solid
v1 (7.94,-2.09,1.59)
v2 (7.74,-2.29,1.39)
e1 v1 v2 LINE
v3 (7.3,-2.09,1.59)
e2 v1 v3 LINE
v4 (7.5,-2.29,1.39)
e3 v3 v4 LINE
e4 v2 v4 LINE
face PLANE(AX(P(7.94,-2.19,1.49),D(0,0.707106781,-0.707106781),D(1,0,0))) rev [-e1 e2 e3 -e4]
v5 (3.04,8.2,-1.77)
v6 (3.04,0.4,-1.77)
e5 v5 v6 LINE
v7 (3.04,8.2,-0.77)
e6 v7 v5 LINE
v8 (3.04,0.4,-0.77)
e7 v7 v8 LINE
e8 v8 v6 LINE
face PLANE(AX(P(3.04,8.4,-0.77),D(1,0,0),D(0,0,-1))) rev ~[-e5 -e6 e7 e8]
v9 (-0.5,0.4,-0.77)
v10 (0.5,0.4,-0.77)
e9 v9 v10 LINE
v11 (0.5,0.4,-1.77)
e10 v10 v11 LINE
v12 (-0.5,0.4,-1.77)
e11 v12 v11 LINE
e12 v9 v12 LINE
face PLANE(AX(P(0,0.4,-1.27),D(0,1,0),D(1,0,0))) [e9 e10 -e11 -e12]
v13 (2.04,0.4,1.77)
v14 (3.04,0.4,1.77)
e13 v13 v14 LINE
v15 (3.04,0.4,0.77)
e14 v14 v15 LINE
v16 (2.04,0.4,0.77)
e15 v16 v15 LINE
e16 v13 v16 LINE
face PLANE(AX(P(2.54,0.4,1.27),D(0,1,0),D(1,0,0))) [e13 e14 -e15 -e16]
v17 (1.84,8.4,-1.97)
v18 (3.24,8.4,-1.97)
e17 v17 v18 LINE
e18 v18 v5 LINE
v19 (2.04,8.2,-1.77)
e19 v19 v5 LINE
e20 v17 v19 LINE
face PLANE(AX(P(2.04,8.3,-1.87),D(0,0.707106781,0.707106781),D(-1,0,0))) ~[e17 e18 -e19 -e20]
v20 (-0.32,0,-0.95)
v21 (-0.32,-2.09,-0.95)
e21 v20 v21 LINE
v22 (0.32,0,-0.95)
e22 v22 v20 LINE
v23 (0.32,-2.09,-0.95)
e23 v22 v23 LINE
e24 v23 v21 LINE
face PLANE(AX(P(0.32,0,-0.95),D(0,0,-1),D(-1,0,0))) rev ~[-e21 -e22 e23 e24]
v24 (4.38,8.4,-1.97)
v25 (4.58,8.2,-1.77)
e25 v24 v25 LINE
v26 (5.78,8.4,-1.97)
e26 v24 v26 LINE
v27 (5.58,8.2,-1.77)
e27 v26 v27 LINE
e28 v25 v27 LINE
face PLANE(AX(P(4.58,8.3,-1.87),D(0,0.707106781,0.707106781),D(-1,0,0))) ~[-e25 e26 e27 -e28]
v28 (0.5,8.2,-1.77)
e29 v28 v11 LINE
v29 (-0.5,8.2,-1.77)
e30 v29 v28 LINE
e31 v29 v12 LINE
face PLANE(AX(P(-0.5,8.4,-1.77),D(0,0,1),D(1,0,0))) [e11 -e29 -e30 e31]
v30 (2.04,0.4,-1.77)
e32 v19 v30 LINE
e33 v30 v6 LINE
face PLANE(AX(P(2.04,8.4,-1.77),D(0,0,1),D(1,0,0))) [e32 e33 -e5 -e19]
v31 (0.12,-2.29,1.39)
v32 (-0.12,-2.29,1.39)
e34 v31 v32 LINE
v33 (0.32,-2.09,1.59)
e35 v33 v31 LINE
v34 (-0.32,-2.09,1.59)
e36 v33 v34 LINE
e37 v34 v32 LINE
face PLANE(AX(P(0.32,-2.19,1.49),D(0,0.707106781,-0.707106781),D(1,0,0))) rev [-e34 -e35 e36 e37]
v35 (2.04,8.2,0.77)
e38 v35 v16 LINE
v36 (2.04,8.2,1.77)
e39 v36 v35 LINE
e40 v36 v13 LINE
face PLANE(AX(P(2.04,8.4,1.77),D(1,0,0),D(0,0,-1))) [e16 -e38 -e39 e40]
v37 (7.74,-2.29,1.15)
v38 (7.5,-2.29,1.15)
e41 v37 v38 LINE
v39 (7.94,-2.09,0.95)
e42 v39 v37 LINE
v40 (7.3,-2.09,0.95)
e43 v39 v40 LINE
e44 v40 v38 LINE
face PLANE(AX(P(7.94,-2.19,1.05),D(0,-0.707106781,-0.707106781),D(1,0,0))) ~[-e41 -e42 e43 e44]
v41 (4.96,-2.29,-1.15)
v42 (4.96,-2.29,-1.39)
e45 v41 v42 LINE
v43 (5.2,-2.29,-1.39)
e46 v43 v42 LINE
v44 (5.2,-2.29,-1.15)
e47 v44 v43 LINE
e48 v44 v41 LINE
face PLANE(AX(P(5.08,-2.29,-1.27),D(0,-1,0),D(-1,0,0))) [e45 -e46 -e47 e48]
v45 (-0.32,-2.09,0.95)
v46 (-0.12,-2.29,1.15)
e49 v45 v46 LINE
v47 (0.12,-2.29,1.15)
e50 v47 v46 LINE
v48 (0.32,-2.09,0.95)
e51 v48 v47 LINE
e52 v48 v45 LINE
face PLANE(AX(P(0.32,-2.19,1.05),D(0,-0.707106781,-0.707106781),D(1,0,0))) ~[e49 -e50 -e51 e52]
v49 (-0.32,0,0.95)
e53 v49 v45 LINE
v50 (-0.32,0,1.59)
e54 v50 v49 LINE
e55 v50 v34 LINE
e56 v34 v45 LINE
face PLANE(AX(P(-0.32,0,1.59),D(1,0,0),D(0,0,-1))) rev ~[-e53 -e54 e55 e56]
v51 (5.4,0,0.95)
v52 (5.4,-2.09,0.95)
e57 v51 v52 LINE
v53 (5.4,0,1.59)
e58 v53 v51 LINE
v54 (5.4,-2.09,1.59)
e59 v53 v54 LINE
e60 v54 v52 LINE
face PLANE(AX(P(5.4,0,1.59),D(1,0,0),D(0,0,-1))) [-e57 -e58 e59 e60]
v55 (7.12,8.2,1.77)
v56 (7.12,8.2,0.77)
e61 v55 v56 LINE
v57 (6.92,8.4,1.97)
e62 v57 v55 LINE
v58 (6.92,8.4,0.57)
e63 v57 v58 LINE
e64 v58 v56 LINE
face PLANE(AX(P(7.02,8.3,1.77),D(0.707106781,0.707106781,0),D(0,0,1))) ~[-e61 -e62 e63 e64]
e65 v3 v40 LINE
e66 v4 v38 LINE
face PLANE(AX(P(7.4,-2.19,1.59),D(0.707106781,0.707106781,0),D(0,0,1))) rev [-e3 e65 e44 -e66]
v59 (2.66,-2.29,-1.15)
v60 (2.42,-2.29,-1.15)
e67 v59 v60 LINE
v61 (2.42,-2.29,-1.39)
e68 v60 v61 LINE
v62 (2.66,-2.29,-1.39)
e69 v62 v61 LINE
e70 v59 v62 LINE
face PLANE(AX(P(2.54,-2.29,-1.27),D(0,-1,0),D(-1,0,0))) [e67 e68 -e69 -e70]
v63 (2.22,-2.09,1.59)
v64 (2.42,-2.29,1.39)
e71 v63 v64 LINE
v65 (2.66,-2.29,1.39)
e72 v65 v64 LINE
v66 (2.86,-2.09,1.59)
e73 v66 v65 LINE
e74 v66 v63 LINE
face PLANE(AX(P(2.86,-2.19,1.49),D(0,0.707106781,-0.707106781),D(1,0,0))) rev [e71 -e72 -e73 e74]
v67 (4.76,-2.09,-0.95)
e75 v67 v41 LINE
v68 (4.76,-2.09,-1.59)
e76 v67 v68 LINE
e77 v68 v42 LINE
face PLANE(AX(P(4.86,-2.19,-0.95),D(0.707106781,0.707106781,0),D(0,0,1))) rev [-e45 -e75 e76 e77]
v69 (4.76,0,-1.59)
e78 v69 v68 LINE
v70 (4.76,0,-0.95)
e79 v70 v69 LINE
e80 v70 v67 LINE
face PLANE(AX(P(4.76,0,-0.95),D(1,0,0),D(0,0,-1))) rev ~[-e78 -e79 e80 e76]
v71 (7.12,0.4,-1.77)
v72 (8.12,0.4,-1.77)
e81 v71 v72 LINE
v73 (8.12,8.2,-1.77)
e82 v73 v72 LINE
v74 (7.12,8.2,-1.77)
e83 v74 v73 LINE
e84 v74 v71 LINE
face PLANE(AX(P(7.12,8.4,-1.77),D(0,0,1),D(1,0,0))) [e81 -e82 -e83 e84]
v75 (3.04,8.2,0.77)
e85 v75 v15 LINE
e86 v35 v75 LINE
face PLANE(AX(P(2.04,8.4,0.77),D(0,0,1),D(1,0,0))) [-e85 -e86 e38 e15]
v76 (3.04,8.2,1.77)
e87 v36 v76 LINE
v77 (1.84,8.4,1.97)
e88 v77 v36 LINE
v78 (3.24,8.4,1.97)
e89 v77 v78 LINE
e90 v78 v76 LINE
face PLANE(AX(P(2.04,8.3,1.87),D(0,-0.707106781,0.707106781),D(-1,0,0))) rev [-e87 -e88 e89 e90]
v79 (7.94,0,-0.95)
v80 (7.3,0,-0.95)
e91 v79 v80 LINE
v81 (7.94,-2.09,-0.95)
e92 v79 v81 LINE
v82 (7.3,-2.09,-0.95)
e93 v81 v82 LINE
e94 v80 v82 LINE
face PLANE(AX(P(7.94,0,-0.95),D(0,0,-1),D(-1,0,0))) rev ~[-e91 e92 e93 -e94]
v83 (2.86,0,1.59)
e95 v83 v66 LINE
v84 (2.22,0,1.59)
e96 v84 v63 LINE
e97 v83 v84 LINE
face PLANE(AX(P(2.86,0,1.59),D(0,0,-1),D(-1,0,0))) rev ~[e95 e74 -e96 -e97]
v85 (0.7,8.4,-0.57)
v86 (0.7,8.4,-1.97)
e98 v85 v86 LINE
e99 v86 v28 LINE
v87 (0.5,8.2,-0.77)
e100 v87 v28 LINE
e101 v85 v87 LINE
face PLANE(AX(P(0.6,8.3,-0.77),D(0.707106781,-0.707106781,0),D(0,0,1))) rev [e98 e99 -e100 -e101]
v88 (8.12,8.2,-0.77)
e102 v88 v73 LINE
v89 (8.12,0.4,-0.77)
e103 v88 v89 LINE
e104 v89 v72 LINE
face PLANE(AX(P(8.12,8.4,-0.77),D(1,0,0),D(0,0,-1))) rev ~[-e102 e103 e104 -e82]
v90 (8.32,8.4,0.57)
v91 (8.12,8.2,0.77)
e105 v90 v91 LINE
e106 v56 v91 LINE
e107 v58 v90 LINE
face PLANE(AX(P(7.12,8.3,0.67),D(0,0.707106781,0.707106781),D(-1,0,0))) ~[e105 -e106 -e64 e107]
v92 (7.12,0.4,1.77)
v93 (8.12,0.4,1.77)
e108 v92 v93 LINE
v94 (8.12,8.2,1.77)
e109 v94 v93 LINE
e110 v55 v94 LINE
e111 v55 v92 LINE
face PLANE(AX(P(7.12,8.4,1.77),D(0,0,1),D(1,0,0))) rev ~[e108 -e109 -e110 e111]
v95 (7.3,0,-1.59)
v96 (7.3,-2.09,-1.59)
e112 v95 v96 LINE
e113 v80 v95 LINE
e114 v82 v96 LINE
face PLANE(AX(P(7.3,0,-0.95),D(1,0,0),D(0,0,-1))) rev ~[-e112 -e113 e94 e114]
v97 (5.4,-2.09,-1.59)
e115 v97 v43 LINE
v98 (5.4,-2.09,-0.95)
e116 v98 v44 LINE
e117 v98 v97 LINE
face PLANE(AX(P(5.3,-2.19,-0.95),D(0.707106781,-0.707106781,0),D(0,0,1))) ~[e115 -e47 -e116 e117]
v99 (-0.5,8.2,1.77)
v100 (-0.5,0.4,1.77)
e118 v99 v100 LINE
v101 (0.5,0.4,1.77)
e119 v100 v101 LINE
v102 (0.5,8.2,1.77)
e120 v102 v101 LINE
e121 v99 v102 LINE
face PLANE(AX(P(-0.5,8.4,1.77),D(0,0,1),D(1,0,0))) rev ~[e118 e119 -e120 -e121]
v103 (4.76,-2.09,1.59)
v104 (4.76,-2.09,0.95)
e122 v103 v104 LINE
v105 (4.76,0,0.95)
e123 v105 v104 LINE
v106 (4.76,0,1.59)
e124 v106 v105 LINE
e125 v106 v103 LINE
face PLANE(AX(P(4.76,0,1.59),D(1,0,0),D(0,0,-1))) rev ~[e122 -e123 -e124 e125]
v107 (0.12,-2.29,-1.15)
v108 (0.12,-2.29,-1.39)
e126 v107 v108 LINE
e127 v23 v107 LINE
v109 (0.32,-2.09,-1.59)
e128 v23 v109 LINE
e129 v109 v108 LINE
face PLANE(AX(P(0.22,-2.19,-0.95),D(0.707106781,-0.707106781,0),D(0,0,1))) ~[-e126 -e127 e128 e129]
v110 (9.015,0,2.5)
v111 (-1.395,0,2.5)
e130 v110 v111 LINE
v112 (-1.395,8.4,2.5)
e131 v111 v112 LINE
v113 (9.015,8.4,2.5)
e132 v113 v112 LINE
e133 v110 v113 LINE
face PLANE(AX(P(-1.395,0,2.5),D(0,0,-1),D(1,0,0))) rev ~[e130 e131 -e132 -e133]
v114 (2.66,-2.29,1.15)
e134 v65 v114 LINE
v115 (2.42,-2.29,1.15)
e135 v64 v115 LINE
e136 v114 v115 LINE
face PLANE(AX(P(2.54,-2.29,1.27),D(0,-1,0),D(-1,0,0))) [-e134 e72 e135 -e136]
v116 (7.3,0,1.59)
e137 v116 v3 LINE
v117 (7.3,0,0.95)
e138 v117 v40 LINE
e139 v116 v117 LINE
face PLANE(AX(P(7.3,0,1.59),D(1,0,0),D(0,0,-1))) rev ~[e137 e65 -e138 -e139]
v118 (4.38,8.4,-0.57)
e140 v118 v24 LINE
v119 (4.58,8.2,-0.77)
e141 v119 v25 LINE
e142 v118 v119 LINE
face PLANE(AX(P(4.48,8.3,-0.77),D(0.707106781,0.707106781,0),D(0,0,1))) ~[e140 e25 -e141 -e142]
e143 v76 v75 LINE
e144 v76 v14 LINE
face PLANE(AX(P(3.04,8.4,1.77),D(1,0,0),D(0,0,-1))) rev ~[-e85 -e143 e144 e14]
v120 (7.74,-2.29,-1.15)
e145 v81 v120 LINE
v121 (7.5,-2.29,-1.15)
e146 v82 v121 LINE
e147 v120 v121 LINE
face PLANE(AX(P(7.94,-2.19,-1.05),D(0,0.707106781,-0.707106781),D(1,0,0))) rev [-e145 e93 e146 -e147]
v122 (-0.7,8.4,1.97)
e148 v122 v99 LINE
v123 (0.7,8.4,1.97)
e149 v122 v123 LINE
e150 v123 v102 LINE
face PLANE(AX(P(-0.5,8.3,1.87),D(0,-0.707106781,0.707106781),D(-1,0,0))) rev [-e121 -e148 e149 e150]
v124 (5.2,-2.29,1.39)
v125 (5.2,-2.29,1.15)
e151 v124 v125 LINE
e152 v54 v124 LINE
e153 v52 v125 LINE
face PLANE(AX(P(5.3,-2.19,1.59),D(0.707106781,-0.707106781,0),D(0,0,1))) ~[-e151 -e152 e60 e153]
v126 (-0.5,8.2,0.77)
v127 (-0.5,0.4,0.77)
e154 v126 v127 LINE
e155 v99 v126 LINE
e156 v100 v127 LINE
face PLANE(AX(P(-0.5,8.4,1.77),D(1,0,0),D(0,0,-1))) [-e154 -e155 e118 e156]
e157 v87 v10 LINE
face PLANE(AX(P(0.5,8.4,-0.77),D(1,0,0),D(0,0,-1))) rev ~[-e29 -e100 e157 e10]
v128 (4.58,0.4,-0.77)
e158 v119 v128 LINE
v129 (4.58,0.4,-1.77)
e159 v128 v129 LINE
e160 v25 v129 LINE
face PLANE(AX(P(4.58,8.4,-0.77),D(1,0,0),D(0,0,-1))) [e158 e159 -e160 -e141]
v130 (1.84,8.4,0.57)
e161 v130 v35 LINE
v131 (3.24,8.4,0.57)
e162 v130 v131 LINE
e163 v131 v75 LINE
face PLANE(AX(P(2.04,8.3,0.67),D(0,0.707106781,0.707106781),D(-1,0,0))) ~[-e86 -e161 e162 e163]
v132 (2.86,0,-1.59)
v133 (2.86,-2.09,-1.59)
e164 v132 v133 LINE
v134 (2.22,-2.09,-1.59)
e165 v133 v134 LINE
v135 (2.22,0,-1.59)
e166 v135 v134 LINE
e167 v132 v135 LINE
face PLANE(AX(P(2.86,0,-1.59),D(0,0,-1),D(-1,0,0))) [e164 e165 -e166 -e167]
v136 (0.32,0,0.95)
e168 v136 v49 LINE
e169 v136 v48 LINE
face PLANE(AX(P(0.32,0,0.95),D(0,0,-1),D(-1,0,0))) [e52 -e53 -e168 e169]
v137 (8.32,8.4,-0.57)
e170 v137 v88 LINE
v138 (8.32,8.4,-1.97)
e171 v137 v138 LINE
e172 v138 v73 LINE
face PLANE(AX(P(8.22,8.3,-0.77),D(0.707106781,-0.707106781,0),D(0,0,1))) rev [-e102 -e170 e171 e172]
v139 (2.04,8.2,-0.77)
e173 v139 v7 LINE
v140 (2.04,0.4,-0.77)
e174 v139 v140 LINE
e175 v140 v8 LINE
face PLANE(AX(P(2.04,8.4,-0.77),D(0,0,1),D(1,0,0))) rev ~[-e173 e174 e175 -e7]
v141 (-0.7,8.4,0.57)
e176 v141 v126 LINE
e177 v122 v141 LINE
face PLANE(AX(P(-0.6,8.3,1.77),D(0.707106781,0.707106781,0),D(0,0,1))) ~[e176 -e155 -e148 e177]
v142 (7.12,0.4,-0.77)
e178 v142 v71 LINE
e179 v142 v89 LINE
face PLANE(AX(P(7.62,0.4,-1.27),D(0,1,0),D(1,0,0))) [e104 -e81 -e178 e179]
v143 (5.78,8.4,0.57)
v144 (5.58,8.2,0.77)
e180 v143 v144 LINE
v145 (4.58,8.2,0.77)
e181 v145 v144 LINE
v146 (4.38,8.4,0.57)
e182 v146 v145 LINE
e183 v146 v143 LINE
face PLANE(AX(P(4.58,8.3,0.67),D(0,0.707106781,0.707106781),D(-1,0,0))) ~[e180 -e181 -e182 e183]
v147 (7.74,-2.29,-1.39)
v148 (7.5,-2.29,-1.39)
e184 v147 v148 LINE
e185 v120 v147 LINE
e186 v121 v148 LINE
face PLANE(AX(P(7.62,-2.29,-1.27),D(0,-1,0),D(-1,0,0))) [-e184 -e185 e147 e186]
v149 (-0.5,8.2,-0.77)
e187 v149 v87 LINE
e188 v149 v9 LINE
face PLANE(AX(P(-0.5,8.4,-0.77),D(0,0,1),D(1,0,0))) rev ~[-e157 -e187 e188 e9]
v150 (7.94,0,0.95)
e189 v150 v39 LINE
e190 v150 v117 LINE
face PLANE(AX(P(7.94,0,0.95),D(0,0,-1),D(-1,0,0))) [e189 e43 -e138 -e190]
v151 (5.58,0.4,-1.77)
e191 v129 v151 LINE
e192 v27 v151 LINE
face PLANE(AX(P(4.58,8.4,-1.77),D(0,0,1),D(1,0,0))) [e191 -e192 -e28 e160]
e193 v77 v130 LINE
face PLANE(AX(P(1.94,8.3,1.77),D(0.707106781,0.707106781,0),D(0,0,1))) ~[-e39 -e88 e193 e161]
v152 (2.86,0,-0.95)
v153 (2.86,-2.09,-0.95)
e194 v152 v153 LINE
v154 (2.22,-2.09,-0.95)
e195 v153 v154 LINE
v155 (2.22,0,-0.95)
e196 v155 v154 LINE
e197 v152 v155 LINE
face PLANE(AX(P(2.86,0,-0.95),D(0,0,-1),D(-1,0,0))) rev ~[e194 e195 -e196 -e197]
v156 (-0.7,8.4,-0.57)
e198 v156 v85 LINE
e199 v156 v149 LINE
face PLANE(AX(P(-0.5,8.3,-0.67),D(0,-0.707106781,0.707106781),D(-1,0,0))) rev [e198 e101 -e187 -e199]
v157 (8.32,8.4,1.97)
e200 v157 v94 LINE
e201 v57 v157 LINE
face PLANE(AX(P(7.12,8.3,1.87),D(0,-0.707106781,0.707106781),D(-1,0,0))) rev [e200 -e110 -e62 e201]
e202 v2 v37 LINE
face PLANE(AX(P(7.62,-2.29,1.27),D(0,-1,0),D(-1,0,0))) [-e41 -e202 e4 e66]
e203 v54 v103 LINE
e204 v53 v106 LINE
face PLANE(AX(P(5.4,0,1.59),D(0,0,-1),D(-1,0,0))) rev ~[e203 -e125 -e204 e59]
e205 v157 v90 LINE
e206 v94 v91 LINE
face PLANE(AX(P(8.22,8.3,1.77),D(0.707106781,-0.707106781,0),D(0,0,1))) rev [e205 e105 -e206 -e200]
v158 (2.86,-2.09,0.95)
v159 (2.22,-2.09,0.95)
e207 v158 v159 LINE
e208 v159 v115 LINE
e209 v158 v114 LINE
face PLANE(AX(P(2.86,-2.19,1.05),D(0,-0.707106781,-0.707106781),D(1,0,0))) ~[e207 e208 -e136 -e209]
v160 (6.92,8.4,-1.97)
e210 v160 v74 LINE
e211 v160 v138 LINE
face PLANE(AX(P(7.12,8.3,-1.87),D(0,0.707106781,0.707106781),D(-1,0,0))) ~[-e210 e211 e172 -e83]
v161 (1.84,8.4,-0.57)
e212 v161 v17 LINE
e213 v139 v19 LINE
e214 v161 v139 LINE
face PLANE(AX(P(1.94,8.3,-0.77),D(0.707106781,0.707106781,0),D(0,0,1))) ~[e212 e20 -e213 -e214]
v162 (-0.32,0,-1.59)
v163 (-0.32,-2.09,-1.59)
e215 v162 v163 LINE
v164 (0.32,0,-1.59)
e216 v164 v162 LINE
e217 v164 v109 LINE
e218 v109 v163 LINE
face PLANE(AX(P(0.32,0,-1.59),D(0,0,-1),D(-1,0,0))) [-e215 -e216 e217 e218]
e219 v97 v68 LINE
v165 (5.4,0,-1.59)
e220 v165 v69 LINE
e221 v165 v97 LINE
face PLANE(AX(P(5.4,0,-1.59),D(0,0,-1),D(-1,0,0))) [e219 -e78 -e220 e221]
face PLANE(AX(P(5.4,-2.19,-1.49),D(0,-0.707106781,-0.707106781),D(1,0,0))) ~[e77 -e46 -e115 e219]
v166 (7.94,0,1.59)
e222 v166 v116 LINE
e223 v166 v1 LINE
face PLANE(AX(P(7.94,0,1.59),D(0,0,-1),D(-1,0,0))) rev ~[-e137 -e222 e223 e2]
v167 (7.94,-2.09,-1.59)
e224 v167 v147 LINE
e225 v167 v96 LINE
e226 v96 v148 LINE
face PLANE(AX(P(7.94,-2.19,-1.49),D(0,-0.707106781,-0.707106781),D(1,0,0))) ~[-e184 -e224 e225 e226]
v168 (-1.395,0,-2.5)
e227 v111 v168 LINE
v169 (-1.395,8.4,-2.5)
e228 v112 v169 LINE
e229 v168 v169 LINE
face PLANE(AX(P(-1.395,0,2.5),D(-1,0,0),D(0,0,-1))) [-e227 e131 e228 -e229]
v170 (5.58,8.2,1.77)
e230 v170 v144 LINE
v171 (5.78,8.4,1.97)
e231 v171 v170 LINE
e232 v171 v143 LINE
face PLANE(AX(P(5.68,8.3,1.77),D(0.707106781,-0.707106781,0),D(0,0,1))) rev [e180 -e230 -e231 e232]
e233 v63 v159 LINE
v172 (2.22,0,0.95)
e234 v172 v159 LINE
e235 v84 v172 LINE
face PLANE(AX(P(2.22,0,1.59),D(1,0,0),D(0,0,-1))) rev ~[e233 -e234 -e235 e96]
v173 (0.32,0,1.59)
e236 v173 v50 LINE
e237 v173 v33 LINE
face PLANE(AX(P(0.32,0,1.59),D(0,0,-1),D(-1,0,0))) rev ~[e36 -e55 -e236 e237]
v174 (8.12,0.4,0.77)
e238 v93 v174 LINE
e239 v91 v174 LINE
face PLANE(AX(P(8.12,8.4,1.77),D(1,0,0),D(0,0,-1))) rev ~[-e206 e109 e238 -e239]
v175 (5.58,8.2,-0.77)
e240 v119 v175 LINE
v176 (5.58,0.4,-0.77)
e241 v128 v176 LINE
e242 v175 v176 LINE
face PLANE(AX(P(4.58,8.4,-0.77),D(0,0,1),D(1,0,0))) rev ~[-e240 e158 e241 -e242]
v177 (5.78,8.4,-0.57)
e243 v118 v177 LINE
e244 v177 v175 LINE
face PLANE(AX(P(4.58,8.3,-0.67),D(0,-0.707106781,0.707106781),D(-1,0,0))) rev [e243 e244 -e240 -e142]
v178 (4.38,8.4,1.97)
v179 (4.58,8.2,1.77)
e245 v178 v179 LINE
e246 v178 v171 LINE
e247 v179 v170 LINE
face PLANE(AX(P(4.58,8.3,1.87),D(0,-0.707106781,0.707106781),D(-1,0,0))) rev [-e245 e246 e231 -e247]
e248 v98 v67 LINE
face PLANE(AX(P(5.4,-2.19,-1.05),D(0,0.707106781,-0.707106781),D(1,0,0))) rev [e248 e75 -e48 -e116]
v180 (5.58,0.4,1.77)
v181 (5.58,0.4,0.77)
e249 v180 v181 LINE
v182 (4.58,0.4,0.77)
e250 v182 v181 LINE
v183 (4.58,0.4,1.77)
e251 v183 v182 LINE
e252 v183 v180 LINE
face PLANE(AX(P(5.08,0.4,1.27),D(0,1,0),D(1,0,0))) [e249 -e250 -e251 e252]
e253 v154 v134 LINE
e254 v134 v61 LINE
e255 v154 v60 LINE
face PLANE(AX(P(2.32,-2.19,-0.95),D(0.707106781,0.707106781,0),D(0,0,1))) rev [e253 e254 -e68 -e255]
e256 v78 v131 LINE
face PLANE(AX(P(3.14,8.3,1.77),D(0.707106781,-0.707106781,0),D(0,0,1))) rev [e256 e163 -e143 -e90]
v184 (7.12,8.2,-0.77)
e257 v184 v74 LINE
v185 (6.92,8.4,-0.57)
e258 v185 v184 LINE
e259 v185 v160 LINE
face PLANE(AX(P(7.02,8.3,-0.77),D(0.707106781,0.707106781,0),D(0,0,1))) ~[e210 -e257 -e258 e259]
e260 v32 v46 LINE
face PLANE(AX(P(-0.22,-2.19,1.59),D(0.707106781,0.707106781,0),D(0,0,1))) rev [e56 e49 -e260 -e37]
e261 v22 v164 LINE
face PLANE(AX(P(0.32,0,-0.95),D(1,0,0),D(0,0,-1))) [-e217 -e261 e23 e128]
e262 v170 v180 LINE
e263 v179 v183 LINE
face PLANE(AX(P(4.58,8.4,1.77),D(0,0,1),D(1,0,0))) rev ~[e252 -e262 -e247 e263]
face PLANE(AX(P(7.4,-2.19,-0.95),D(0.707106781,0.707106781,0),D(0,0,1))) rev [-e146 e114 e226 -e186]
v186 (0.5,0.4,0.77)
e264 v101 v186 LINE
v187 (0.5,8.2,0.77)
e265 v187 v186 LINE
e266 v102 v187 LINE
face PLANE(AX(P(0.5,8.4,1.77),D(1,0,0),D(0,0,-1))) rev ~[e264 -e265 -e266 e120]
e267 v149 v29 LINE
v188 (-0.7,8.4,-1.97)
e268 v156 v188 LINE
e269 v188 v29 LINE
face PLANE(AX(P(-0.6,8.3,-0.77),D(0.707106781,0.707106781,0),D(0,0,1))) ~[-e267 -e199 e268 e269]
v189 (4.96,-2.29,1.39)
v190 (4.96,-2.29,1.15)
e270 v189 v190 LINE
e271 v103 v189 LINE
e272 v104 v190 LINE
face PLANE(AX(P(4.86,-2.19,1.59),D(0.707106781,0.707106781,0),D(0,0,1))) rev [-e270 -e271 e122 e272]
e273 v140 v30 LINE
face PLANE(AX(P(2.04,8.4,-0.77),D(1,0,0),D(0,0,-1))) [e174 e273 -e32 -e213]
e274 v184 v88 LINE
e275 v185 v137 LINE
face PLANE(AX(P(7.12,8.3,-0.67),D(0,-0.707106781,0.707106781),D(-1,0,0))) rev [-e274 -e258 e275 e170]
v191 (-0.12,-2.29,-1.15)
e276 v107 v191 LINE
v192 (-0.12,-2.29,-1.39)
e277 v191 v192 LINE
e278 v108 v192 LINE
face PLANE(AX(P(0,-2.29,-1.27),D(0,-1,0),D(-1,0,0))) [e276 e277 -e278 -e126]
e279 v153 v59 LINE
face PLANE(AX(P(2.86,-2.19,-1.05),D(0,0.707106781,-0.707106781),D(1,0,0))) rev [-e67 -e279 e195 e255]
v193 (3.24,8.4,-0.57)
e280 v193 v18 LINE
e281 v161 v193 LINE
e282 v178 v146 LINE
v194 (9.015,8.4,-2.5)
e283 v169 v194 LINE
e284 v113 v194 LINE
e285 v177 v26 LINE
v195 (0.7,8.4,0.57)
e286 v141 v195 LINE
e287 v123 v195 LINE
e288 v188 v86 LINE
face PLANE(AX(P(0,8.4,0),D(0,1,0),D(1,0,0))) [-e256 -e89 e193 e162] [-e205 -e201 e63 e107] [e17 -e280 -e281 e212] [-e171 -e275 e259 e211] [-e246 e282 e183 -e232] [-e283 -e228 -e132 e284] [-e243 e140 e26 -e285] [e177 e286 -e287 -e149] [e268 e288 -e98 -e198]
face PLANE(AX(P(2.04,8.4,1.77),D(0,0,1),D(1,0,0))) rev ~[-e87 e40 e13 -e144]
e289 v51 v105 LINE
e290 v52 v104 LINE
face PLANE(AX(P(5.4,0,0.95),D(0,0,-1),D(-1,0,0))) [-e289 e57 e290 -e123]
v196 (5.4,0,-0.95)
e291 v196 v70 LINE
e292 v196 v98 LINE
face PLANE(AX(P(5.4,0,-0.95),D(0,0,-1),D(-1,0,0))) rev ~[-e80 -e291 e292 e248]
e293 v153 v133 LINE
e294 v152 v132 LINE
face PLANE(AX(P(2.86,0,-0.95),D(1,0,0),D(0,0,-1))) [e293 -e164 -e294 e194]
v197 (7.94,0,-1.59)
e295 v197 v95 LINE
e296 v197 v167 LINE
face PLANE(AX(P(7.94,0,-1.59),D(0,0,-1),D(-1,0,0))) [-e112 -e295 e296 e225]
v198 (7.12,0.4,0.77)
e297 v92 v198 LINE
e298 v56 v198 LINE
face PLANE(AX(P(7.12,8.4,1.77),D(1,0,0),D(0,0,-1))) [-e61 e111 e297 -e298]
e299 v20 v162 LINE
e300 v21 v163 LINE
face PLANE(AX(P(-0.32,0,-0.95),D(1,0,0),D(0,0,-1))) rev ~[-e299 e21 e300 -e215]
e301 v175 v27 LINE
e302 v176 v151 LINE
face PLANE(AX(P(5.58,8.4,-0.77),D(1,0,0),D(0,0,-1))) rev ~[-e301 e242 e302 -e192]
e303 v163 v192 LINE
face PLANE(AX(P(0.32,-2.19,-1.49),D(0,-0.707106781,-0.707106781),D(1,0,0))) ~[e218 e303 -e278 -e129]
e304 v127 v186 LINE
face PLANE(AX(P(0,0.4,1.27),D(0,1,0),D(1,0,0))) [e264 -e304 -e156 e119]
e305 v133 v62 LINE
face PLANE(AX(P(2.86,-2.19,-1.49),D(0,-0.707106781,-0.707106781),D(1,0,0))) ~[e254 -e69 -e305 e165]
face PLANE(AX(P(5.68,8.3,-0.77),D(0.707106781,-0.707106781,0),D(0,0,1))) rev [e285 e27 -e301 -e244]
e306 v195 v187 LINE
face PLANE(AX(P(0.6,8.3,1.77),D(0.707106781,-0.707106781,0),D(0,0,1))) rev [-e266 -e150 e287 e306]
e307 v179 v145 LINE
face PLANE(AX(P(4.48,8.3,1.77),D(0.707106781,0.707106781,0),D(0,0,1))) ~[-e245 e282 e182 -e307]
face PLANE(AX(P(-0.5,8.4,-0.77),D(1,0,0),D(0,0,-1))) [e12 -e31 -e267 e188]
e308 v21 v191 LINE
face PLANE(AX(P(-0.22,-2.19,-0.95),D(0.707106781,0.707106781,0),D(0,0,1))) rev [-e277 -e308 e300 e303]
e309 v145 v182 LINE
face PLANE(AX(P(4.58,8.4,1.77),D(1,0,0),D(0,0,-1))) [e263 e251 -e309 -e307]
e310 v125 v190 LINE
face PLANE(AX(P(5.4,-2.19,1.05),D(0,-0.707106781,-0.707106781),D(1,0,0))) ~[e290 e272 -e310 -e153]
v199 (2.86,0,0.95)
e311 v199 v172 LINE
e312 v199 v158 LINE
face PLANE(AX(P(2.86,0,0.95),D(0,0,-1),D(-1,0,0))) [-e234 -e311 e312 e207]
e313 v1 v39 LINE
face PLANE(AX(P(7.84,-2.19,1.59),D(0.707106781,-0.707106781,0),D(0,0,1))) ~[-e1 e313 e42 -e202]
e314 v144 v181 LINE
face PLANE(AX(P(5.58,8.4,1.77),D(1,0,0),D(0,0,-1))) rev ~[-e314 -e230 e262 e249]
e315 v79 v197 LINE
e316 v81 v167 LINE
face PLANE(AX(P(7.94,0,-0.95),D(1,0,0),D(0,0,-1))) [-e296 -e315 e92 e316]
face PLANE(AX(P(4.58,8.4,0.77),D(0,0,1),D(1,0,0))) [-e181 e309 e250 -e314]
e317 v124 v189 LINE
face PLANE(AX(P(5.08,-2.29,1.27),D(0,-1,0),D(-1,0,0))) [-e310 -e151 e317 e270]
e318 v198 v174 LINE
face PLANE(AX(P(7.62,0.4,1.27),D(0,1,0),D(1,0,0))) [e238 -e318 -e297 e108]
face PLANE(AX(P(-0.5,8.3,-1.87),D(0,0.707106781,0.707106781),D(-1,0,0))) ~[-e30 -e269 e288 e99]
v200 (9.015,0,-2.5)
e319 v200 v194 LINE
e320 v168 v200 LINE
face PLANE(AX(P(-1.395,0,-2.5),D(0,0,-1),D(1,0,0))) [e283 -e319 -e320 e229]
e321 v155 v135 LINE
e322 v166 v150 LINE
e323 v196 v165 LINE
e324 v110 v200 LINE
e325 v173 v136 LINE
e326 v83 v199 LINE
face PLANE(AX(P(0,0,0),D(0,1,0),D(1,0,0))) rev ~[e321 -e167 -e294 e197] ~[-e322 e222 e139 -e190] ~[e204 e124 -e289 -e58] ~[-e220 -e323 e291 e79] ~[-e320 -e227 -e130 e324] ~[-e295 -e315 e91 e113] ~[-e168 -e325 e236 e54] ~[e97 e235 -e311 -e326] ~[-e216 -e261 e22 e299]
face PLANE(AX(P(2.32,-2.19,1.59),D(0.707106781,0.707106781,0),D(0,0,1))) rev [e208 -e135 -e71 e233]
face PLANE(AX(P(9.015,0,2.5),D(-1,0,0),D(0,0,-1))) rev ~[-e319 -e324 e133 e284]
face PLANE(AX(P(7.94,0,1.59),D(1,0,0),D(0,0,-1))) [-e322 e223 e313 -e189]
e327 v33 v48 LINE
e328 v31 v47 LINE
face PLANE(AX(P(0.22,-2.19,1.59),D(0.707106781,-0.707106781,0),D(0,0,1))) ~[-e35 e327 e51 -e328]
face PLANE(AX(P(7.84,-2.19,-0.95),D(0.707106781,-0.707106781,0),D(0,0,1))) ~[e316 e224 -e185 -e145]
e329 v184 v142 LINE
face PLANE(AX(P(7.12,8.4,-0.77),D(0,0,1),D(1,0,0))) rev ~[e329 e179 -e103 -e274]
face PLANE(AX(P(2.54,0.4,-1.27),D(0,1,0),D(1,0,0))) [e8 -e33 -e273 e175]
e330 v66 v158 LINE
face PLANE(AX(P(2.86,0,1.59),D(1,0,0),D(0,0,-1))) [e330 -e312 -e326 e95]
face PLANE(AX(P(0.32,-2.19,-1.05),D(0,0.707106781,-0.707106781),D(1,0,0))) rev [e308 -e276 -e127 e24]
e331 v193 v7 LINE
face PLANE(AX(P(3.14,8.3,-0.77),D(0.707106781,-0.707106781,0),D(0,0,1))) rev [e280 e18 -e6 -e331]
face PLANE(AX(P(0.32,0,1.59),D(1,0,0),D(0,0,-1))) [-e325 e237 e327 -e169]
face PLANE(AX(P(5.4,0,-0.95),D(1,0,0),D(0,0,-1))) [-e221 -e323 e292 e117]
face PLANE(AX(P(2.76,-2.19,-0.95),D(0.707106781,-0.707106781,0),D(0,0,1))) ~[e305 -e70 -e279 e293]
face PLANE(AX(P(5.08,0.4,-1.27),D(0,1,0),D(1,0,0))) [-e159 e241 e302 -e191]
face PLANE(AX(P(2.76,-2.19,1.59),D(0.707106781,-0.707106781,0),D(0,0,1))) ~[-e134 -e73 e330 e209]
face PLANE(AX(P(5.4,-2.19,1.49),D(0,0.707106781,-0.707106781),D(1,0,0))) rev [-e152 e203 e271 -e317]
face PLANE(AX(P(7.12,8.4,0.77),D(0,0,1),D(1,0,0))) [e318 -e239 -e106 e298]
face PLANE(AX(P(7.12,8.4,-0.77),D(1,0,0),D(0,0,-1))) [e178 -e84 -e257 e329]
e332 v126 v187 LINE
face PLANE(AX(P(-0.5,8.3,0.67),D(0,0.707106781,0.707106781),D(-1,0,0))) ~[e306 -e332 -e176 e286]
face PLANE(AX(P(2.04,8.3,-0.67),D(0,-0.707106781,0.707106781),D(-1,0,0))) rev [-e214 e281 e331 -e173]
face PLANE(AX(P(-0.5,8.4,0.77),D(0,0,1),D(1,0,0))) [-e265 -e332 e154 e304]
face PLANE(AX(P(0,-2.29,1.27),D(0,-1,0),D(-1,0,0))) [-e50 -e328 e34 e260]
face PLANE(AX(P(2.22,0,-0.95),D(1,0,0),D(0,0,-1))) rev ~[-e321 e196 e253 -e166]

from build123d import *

# Parameters (mm, degrees)
SKETCH_1_W                         = 2.79
SKETCH_1_H                         = 5
EXTRUDE_1_DEPTH                    = 8.4
SKETCH_2_W                         = 1
SKETCH_2_H                         = 1
CUT_EXTRUDE_1_DEPTH                = 8
CHAMFER_1_SIZE                     = 0.2
SKETCH_3_W                         = 0.64
SKETCH_3_H                         = 0.64
EXTRUDE_2_DEPTH                    = 2.29
CHAMFER_2_SIZE                     = 0.2
PATTERN_LINEAR_1_COUNT             = 4
PATTERN_LINEAR_1_PITCH             = 2.54
CHAMFER_1_OF_PATTERN_LINEAR_1_SIZE = 0.2
CHAMFER_2_OF_PATTERN_LINEAR_1_SIZE = 0.2


with BuildPart() as part:
    # Эскиз1 → Бобышка-Вытянуть1 (new body)
    with BuildSketch(Plane(origin=(0, 0, 0), x_dir=(1, 0, 0), z_dir=(0, 1, 0))):
        Rectangle(SKETCH_1_W, SKETCH_1_H)
    extrude_1 = extrude(amount=EXTRUDE_1_DEPTH)

    # Эскиз2 → Вырез-Вытянуть1 (cut)
    with BuildSketch(Plane(origin=(0, 8.4, 0), x_dir=(1, 0, 0), z_dir=(0, 1, 0))):
        with Locations((0, 1.27)):
            Rectangle(SKETCH_2_W, SKETCH_2_H)
        with Locations((0, -1.27)):
            Rectangle(SKETCH_2_W, SKETCH_2_H)
    cut_extrude_1 = extrude(amount=-CUT_EXTRUDE_1_DEPTH, mode=Mode.SUBTRACT)

    # Фаска1
    chamfer_1_edges = [part.edges().sort_by_distance(p)[0] for p in [
        (0.5, 8.4, -1.27),
        (0, 8.4, -1.77),
        (-0.5, 8.4, -1.27),
        (0, 8.4, -0.77),
        (0, 8.4, 1.77),
        (0.5, 8.4, 1.27),
        (0, 8.4, 0.77),
        (-0.5, 8.4, 1.27),
    ]]
    chamfer(chamfer_1_edges, length=CHAMFER_1_SIZE)

    # Эскиз3 → Бобышка-Вытянуть2 (add)
    with BuildSketch(Plane(origin=(0, 0, 0), x_dir=(-1, 0, 0), z_dir=(0, -1, 0))):
        with Locations((0, 1.27)):
            Rectangle(SKETCH_3_W, SKETCH_3_H)
        with Locations((0, -1.27)):
            Rectangle(SKETCH_3_W, SKETCH_3_H)
    extrude_2 = extrude(amount=EXTRUDE_2_DEPTH)

    # Фаска2
    chamfer_2_edges = [part.edges().sort_by_distance(p)[0] for p in [
        (0.32, -2.29, -1.27),
        (0, -2.29, -0.95),
        (-0.32, -2.29, -1.27),
        (0, -2.29, -1.59),
        (-0.32, -2.29, 1.27),
        (0, -2.29, 0.95),
        (0.32, -2.29, 1.27),
        (0, -2.29, 1.59),
    ]]
    chamfer(chamfer_2_edges, length=CHAMFER_2_SIZE)

    # Линейный массив1: Бобышка-Вытянуть1, Вырез-Вытянуть1, Бобышка-Вытянуть2 ×4
    with Locations(*[(i * PATTERN_LINEAR_1_PITCH, 0, 0) for i in range(1, PATTERN_LINEAR_1_COUNT)]):
        add(extrude_1)
        add(cut_extrude_1, mode=Mode.SUBTRACT)
        add(extrude_2)

    # Фаска1 of Линейный массив1
    chamfer_1_of_pattern_linear_1_edges = [part.edges().sort_by_distance(p)[0] for p in [
        (3.04, 8.4, -1.27),
        (2.54, 8.4, -1.77),
        (2.04, 8.4, -1.27),
        (2.54, 8.4, -0.77),
        (2.54, 8.4, 1.77),
        (3.04, 8.4, 1.27),
        (2.54, 8.4, 0.77),
        (2.04, 8.4, 1.27),
        (5.58, 8.4, -1.27),
        (5.08, 8.4, -1.77),
        (4.58, 8.4, -1.27),
        (5.08, 8.4, -0.77),
        (5.08, 8.4, 1.77),
        (5.58, 8.4, 1.27),
        (5.08, 8.4, 0.77),
        (4.58, 8.4, 1.27),
        (8.12, 8.4, -1.27),
        (7.62, 8.4, -1.77),
        (7.12, 8.4, -1.27),
        (7.62, 8.4, -0.77),
        (7.62, 8.4, 1.77),
        (8.12, 8.4, 1.27),
        (7.62, 8.4, 0.77),
        (7.12, 8.4, 1.27),
    ]]
    chamfer(chamfer_1_of_pattern_linear_1_edges, length=CHAMFER_1_OF_PATTERN_LINEAR_1_SIZE)

    # Фаска2 of Линейный массив1
    chamfer_2_of_pattern_linear_1_edges = [part.edges().sort_by_distance(p)[0] for p in [
        (2.86, -2.29, -1.27),
        (2.54, -2.29, -0.95),
        (2.22, -2.29, -1.27),
        (2.54, -2.29, -1.59),
        (2.22, -2.29, 1.27),
        (2.54, -2.29, 0.95),
        (2.86, -2.29, 1.27),
        (2.54, -2.29, 1.59),
        (5.4, -2.29, -1.27),
        (5.08, -2.29, -0.95),
        (4.76, -2.29, -1.27),
        (5.08, -2.29, -1.59),
        (4.76, -2.29, 1.27),
        (5.08, -2.29, 0.95),
        (5.4, -2.29, 1.27),
        (5.08, -2.29, 1.59),
        (7.94, -2.29, -1.27),
        (7.62, -2.29, -0.95),
        (7.3, -2.29, -1.27),
        (7.62, -2.29, -1.59),
        (7.3, -2.29, 1.27),
        (7.62, -2.29, 0.95),
        (7.94, -2.29, 1.27),
        (7.62, -2.29, 1.59),
    ]]
    chamfer(chamfer_2_of_pattern_linear_1_edges, length=CHAMFER_2_OF_PATTERN_LINEAR_1_SIZE)


solid = part.part
